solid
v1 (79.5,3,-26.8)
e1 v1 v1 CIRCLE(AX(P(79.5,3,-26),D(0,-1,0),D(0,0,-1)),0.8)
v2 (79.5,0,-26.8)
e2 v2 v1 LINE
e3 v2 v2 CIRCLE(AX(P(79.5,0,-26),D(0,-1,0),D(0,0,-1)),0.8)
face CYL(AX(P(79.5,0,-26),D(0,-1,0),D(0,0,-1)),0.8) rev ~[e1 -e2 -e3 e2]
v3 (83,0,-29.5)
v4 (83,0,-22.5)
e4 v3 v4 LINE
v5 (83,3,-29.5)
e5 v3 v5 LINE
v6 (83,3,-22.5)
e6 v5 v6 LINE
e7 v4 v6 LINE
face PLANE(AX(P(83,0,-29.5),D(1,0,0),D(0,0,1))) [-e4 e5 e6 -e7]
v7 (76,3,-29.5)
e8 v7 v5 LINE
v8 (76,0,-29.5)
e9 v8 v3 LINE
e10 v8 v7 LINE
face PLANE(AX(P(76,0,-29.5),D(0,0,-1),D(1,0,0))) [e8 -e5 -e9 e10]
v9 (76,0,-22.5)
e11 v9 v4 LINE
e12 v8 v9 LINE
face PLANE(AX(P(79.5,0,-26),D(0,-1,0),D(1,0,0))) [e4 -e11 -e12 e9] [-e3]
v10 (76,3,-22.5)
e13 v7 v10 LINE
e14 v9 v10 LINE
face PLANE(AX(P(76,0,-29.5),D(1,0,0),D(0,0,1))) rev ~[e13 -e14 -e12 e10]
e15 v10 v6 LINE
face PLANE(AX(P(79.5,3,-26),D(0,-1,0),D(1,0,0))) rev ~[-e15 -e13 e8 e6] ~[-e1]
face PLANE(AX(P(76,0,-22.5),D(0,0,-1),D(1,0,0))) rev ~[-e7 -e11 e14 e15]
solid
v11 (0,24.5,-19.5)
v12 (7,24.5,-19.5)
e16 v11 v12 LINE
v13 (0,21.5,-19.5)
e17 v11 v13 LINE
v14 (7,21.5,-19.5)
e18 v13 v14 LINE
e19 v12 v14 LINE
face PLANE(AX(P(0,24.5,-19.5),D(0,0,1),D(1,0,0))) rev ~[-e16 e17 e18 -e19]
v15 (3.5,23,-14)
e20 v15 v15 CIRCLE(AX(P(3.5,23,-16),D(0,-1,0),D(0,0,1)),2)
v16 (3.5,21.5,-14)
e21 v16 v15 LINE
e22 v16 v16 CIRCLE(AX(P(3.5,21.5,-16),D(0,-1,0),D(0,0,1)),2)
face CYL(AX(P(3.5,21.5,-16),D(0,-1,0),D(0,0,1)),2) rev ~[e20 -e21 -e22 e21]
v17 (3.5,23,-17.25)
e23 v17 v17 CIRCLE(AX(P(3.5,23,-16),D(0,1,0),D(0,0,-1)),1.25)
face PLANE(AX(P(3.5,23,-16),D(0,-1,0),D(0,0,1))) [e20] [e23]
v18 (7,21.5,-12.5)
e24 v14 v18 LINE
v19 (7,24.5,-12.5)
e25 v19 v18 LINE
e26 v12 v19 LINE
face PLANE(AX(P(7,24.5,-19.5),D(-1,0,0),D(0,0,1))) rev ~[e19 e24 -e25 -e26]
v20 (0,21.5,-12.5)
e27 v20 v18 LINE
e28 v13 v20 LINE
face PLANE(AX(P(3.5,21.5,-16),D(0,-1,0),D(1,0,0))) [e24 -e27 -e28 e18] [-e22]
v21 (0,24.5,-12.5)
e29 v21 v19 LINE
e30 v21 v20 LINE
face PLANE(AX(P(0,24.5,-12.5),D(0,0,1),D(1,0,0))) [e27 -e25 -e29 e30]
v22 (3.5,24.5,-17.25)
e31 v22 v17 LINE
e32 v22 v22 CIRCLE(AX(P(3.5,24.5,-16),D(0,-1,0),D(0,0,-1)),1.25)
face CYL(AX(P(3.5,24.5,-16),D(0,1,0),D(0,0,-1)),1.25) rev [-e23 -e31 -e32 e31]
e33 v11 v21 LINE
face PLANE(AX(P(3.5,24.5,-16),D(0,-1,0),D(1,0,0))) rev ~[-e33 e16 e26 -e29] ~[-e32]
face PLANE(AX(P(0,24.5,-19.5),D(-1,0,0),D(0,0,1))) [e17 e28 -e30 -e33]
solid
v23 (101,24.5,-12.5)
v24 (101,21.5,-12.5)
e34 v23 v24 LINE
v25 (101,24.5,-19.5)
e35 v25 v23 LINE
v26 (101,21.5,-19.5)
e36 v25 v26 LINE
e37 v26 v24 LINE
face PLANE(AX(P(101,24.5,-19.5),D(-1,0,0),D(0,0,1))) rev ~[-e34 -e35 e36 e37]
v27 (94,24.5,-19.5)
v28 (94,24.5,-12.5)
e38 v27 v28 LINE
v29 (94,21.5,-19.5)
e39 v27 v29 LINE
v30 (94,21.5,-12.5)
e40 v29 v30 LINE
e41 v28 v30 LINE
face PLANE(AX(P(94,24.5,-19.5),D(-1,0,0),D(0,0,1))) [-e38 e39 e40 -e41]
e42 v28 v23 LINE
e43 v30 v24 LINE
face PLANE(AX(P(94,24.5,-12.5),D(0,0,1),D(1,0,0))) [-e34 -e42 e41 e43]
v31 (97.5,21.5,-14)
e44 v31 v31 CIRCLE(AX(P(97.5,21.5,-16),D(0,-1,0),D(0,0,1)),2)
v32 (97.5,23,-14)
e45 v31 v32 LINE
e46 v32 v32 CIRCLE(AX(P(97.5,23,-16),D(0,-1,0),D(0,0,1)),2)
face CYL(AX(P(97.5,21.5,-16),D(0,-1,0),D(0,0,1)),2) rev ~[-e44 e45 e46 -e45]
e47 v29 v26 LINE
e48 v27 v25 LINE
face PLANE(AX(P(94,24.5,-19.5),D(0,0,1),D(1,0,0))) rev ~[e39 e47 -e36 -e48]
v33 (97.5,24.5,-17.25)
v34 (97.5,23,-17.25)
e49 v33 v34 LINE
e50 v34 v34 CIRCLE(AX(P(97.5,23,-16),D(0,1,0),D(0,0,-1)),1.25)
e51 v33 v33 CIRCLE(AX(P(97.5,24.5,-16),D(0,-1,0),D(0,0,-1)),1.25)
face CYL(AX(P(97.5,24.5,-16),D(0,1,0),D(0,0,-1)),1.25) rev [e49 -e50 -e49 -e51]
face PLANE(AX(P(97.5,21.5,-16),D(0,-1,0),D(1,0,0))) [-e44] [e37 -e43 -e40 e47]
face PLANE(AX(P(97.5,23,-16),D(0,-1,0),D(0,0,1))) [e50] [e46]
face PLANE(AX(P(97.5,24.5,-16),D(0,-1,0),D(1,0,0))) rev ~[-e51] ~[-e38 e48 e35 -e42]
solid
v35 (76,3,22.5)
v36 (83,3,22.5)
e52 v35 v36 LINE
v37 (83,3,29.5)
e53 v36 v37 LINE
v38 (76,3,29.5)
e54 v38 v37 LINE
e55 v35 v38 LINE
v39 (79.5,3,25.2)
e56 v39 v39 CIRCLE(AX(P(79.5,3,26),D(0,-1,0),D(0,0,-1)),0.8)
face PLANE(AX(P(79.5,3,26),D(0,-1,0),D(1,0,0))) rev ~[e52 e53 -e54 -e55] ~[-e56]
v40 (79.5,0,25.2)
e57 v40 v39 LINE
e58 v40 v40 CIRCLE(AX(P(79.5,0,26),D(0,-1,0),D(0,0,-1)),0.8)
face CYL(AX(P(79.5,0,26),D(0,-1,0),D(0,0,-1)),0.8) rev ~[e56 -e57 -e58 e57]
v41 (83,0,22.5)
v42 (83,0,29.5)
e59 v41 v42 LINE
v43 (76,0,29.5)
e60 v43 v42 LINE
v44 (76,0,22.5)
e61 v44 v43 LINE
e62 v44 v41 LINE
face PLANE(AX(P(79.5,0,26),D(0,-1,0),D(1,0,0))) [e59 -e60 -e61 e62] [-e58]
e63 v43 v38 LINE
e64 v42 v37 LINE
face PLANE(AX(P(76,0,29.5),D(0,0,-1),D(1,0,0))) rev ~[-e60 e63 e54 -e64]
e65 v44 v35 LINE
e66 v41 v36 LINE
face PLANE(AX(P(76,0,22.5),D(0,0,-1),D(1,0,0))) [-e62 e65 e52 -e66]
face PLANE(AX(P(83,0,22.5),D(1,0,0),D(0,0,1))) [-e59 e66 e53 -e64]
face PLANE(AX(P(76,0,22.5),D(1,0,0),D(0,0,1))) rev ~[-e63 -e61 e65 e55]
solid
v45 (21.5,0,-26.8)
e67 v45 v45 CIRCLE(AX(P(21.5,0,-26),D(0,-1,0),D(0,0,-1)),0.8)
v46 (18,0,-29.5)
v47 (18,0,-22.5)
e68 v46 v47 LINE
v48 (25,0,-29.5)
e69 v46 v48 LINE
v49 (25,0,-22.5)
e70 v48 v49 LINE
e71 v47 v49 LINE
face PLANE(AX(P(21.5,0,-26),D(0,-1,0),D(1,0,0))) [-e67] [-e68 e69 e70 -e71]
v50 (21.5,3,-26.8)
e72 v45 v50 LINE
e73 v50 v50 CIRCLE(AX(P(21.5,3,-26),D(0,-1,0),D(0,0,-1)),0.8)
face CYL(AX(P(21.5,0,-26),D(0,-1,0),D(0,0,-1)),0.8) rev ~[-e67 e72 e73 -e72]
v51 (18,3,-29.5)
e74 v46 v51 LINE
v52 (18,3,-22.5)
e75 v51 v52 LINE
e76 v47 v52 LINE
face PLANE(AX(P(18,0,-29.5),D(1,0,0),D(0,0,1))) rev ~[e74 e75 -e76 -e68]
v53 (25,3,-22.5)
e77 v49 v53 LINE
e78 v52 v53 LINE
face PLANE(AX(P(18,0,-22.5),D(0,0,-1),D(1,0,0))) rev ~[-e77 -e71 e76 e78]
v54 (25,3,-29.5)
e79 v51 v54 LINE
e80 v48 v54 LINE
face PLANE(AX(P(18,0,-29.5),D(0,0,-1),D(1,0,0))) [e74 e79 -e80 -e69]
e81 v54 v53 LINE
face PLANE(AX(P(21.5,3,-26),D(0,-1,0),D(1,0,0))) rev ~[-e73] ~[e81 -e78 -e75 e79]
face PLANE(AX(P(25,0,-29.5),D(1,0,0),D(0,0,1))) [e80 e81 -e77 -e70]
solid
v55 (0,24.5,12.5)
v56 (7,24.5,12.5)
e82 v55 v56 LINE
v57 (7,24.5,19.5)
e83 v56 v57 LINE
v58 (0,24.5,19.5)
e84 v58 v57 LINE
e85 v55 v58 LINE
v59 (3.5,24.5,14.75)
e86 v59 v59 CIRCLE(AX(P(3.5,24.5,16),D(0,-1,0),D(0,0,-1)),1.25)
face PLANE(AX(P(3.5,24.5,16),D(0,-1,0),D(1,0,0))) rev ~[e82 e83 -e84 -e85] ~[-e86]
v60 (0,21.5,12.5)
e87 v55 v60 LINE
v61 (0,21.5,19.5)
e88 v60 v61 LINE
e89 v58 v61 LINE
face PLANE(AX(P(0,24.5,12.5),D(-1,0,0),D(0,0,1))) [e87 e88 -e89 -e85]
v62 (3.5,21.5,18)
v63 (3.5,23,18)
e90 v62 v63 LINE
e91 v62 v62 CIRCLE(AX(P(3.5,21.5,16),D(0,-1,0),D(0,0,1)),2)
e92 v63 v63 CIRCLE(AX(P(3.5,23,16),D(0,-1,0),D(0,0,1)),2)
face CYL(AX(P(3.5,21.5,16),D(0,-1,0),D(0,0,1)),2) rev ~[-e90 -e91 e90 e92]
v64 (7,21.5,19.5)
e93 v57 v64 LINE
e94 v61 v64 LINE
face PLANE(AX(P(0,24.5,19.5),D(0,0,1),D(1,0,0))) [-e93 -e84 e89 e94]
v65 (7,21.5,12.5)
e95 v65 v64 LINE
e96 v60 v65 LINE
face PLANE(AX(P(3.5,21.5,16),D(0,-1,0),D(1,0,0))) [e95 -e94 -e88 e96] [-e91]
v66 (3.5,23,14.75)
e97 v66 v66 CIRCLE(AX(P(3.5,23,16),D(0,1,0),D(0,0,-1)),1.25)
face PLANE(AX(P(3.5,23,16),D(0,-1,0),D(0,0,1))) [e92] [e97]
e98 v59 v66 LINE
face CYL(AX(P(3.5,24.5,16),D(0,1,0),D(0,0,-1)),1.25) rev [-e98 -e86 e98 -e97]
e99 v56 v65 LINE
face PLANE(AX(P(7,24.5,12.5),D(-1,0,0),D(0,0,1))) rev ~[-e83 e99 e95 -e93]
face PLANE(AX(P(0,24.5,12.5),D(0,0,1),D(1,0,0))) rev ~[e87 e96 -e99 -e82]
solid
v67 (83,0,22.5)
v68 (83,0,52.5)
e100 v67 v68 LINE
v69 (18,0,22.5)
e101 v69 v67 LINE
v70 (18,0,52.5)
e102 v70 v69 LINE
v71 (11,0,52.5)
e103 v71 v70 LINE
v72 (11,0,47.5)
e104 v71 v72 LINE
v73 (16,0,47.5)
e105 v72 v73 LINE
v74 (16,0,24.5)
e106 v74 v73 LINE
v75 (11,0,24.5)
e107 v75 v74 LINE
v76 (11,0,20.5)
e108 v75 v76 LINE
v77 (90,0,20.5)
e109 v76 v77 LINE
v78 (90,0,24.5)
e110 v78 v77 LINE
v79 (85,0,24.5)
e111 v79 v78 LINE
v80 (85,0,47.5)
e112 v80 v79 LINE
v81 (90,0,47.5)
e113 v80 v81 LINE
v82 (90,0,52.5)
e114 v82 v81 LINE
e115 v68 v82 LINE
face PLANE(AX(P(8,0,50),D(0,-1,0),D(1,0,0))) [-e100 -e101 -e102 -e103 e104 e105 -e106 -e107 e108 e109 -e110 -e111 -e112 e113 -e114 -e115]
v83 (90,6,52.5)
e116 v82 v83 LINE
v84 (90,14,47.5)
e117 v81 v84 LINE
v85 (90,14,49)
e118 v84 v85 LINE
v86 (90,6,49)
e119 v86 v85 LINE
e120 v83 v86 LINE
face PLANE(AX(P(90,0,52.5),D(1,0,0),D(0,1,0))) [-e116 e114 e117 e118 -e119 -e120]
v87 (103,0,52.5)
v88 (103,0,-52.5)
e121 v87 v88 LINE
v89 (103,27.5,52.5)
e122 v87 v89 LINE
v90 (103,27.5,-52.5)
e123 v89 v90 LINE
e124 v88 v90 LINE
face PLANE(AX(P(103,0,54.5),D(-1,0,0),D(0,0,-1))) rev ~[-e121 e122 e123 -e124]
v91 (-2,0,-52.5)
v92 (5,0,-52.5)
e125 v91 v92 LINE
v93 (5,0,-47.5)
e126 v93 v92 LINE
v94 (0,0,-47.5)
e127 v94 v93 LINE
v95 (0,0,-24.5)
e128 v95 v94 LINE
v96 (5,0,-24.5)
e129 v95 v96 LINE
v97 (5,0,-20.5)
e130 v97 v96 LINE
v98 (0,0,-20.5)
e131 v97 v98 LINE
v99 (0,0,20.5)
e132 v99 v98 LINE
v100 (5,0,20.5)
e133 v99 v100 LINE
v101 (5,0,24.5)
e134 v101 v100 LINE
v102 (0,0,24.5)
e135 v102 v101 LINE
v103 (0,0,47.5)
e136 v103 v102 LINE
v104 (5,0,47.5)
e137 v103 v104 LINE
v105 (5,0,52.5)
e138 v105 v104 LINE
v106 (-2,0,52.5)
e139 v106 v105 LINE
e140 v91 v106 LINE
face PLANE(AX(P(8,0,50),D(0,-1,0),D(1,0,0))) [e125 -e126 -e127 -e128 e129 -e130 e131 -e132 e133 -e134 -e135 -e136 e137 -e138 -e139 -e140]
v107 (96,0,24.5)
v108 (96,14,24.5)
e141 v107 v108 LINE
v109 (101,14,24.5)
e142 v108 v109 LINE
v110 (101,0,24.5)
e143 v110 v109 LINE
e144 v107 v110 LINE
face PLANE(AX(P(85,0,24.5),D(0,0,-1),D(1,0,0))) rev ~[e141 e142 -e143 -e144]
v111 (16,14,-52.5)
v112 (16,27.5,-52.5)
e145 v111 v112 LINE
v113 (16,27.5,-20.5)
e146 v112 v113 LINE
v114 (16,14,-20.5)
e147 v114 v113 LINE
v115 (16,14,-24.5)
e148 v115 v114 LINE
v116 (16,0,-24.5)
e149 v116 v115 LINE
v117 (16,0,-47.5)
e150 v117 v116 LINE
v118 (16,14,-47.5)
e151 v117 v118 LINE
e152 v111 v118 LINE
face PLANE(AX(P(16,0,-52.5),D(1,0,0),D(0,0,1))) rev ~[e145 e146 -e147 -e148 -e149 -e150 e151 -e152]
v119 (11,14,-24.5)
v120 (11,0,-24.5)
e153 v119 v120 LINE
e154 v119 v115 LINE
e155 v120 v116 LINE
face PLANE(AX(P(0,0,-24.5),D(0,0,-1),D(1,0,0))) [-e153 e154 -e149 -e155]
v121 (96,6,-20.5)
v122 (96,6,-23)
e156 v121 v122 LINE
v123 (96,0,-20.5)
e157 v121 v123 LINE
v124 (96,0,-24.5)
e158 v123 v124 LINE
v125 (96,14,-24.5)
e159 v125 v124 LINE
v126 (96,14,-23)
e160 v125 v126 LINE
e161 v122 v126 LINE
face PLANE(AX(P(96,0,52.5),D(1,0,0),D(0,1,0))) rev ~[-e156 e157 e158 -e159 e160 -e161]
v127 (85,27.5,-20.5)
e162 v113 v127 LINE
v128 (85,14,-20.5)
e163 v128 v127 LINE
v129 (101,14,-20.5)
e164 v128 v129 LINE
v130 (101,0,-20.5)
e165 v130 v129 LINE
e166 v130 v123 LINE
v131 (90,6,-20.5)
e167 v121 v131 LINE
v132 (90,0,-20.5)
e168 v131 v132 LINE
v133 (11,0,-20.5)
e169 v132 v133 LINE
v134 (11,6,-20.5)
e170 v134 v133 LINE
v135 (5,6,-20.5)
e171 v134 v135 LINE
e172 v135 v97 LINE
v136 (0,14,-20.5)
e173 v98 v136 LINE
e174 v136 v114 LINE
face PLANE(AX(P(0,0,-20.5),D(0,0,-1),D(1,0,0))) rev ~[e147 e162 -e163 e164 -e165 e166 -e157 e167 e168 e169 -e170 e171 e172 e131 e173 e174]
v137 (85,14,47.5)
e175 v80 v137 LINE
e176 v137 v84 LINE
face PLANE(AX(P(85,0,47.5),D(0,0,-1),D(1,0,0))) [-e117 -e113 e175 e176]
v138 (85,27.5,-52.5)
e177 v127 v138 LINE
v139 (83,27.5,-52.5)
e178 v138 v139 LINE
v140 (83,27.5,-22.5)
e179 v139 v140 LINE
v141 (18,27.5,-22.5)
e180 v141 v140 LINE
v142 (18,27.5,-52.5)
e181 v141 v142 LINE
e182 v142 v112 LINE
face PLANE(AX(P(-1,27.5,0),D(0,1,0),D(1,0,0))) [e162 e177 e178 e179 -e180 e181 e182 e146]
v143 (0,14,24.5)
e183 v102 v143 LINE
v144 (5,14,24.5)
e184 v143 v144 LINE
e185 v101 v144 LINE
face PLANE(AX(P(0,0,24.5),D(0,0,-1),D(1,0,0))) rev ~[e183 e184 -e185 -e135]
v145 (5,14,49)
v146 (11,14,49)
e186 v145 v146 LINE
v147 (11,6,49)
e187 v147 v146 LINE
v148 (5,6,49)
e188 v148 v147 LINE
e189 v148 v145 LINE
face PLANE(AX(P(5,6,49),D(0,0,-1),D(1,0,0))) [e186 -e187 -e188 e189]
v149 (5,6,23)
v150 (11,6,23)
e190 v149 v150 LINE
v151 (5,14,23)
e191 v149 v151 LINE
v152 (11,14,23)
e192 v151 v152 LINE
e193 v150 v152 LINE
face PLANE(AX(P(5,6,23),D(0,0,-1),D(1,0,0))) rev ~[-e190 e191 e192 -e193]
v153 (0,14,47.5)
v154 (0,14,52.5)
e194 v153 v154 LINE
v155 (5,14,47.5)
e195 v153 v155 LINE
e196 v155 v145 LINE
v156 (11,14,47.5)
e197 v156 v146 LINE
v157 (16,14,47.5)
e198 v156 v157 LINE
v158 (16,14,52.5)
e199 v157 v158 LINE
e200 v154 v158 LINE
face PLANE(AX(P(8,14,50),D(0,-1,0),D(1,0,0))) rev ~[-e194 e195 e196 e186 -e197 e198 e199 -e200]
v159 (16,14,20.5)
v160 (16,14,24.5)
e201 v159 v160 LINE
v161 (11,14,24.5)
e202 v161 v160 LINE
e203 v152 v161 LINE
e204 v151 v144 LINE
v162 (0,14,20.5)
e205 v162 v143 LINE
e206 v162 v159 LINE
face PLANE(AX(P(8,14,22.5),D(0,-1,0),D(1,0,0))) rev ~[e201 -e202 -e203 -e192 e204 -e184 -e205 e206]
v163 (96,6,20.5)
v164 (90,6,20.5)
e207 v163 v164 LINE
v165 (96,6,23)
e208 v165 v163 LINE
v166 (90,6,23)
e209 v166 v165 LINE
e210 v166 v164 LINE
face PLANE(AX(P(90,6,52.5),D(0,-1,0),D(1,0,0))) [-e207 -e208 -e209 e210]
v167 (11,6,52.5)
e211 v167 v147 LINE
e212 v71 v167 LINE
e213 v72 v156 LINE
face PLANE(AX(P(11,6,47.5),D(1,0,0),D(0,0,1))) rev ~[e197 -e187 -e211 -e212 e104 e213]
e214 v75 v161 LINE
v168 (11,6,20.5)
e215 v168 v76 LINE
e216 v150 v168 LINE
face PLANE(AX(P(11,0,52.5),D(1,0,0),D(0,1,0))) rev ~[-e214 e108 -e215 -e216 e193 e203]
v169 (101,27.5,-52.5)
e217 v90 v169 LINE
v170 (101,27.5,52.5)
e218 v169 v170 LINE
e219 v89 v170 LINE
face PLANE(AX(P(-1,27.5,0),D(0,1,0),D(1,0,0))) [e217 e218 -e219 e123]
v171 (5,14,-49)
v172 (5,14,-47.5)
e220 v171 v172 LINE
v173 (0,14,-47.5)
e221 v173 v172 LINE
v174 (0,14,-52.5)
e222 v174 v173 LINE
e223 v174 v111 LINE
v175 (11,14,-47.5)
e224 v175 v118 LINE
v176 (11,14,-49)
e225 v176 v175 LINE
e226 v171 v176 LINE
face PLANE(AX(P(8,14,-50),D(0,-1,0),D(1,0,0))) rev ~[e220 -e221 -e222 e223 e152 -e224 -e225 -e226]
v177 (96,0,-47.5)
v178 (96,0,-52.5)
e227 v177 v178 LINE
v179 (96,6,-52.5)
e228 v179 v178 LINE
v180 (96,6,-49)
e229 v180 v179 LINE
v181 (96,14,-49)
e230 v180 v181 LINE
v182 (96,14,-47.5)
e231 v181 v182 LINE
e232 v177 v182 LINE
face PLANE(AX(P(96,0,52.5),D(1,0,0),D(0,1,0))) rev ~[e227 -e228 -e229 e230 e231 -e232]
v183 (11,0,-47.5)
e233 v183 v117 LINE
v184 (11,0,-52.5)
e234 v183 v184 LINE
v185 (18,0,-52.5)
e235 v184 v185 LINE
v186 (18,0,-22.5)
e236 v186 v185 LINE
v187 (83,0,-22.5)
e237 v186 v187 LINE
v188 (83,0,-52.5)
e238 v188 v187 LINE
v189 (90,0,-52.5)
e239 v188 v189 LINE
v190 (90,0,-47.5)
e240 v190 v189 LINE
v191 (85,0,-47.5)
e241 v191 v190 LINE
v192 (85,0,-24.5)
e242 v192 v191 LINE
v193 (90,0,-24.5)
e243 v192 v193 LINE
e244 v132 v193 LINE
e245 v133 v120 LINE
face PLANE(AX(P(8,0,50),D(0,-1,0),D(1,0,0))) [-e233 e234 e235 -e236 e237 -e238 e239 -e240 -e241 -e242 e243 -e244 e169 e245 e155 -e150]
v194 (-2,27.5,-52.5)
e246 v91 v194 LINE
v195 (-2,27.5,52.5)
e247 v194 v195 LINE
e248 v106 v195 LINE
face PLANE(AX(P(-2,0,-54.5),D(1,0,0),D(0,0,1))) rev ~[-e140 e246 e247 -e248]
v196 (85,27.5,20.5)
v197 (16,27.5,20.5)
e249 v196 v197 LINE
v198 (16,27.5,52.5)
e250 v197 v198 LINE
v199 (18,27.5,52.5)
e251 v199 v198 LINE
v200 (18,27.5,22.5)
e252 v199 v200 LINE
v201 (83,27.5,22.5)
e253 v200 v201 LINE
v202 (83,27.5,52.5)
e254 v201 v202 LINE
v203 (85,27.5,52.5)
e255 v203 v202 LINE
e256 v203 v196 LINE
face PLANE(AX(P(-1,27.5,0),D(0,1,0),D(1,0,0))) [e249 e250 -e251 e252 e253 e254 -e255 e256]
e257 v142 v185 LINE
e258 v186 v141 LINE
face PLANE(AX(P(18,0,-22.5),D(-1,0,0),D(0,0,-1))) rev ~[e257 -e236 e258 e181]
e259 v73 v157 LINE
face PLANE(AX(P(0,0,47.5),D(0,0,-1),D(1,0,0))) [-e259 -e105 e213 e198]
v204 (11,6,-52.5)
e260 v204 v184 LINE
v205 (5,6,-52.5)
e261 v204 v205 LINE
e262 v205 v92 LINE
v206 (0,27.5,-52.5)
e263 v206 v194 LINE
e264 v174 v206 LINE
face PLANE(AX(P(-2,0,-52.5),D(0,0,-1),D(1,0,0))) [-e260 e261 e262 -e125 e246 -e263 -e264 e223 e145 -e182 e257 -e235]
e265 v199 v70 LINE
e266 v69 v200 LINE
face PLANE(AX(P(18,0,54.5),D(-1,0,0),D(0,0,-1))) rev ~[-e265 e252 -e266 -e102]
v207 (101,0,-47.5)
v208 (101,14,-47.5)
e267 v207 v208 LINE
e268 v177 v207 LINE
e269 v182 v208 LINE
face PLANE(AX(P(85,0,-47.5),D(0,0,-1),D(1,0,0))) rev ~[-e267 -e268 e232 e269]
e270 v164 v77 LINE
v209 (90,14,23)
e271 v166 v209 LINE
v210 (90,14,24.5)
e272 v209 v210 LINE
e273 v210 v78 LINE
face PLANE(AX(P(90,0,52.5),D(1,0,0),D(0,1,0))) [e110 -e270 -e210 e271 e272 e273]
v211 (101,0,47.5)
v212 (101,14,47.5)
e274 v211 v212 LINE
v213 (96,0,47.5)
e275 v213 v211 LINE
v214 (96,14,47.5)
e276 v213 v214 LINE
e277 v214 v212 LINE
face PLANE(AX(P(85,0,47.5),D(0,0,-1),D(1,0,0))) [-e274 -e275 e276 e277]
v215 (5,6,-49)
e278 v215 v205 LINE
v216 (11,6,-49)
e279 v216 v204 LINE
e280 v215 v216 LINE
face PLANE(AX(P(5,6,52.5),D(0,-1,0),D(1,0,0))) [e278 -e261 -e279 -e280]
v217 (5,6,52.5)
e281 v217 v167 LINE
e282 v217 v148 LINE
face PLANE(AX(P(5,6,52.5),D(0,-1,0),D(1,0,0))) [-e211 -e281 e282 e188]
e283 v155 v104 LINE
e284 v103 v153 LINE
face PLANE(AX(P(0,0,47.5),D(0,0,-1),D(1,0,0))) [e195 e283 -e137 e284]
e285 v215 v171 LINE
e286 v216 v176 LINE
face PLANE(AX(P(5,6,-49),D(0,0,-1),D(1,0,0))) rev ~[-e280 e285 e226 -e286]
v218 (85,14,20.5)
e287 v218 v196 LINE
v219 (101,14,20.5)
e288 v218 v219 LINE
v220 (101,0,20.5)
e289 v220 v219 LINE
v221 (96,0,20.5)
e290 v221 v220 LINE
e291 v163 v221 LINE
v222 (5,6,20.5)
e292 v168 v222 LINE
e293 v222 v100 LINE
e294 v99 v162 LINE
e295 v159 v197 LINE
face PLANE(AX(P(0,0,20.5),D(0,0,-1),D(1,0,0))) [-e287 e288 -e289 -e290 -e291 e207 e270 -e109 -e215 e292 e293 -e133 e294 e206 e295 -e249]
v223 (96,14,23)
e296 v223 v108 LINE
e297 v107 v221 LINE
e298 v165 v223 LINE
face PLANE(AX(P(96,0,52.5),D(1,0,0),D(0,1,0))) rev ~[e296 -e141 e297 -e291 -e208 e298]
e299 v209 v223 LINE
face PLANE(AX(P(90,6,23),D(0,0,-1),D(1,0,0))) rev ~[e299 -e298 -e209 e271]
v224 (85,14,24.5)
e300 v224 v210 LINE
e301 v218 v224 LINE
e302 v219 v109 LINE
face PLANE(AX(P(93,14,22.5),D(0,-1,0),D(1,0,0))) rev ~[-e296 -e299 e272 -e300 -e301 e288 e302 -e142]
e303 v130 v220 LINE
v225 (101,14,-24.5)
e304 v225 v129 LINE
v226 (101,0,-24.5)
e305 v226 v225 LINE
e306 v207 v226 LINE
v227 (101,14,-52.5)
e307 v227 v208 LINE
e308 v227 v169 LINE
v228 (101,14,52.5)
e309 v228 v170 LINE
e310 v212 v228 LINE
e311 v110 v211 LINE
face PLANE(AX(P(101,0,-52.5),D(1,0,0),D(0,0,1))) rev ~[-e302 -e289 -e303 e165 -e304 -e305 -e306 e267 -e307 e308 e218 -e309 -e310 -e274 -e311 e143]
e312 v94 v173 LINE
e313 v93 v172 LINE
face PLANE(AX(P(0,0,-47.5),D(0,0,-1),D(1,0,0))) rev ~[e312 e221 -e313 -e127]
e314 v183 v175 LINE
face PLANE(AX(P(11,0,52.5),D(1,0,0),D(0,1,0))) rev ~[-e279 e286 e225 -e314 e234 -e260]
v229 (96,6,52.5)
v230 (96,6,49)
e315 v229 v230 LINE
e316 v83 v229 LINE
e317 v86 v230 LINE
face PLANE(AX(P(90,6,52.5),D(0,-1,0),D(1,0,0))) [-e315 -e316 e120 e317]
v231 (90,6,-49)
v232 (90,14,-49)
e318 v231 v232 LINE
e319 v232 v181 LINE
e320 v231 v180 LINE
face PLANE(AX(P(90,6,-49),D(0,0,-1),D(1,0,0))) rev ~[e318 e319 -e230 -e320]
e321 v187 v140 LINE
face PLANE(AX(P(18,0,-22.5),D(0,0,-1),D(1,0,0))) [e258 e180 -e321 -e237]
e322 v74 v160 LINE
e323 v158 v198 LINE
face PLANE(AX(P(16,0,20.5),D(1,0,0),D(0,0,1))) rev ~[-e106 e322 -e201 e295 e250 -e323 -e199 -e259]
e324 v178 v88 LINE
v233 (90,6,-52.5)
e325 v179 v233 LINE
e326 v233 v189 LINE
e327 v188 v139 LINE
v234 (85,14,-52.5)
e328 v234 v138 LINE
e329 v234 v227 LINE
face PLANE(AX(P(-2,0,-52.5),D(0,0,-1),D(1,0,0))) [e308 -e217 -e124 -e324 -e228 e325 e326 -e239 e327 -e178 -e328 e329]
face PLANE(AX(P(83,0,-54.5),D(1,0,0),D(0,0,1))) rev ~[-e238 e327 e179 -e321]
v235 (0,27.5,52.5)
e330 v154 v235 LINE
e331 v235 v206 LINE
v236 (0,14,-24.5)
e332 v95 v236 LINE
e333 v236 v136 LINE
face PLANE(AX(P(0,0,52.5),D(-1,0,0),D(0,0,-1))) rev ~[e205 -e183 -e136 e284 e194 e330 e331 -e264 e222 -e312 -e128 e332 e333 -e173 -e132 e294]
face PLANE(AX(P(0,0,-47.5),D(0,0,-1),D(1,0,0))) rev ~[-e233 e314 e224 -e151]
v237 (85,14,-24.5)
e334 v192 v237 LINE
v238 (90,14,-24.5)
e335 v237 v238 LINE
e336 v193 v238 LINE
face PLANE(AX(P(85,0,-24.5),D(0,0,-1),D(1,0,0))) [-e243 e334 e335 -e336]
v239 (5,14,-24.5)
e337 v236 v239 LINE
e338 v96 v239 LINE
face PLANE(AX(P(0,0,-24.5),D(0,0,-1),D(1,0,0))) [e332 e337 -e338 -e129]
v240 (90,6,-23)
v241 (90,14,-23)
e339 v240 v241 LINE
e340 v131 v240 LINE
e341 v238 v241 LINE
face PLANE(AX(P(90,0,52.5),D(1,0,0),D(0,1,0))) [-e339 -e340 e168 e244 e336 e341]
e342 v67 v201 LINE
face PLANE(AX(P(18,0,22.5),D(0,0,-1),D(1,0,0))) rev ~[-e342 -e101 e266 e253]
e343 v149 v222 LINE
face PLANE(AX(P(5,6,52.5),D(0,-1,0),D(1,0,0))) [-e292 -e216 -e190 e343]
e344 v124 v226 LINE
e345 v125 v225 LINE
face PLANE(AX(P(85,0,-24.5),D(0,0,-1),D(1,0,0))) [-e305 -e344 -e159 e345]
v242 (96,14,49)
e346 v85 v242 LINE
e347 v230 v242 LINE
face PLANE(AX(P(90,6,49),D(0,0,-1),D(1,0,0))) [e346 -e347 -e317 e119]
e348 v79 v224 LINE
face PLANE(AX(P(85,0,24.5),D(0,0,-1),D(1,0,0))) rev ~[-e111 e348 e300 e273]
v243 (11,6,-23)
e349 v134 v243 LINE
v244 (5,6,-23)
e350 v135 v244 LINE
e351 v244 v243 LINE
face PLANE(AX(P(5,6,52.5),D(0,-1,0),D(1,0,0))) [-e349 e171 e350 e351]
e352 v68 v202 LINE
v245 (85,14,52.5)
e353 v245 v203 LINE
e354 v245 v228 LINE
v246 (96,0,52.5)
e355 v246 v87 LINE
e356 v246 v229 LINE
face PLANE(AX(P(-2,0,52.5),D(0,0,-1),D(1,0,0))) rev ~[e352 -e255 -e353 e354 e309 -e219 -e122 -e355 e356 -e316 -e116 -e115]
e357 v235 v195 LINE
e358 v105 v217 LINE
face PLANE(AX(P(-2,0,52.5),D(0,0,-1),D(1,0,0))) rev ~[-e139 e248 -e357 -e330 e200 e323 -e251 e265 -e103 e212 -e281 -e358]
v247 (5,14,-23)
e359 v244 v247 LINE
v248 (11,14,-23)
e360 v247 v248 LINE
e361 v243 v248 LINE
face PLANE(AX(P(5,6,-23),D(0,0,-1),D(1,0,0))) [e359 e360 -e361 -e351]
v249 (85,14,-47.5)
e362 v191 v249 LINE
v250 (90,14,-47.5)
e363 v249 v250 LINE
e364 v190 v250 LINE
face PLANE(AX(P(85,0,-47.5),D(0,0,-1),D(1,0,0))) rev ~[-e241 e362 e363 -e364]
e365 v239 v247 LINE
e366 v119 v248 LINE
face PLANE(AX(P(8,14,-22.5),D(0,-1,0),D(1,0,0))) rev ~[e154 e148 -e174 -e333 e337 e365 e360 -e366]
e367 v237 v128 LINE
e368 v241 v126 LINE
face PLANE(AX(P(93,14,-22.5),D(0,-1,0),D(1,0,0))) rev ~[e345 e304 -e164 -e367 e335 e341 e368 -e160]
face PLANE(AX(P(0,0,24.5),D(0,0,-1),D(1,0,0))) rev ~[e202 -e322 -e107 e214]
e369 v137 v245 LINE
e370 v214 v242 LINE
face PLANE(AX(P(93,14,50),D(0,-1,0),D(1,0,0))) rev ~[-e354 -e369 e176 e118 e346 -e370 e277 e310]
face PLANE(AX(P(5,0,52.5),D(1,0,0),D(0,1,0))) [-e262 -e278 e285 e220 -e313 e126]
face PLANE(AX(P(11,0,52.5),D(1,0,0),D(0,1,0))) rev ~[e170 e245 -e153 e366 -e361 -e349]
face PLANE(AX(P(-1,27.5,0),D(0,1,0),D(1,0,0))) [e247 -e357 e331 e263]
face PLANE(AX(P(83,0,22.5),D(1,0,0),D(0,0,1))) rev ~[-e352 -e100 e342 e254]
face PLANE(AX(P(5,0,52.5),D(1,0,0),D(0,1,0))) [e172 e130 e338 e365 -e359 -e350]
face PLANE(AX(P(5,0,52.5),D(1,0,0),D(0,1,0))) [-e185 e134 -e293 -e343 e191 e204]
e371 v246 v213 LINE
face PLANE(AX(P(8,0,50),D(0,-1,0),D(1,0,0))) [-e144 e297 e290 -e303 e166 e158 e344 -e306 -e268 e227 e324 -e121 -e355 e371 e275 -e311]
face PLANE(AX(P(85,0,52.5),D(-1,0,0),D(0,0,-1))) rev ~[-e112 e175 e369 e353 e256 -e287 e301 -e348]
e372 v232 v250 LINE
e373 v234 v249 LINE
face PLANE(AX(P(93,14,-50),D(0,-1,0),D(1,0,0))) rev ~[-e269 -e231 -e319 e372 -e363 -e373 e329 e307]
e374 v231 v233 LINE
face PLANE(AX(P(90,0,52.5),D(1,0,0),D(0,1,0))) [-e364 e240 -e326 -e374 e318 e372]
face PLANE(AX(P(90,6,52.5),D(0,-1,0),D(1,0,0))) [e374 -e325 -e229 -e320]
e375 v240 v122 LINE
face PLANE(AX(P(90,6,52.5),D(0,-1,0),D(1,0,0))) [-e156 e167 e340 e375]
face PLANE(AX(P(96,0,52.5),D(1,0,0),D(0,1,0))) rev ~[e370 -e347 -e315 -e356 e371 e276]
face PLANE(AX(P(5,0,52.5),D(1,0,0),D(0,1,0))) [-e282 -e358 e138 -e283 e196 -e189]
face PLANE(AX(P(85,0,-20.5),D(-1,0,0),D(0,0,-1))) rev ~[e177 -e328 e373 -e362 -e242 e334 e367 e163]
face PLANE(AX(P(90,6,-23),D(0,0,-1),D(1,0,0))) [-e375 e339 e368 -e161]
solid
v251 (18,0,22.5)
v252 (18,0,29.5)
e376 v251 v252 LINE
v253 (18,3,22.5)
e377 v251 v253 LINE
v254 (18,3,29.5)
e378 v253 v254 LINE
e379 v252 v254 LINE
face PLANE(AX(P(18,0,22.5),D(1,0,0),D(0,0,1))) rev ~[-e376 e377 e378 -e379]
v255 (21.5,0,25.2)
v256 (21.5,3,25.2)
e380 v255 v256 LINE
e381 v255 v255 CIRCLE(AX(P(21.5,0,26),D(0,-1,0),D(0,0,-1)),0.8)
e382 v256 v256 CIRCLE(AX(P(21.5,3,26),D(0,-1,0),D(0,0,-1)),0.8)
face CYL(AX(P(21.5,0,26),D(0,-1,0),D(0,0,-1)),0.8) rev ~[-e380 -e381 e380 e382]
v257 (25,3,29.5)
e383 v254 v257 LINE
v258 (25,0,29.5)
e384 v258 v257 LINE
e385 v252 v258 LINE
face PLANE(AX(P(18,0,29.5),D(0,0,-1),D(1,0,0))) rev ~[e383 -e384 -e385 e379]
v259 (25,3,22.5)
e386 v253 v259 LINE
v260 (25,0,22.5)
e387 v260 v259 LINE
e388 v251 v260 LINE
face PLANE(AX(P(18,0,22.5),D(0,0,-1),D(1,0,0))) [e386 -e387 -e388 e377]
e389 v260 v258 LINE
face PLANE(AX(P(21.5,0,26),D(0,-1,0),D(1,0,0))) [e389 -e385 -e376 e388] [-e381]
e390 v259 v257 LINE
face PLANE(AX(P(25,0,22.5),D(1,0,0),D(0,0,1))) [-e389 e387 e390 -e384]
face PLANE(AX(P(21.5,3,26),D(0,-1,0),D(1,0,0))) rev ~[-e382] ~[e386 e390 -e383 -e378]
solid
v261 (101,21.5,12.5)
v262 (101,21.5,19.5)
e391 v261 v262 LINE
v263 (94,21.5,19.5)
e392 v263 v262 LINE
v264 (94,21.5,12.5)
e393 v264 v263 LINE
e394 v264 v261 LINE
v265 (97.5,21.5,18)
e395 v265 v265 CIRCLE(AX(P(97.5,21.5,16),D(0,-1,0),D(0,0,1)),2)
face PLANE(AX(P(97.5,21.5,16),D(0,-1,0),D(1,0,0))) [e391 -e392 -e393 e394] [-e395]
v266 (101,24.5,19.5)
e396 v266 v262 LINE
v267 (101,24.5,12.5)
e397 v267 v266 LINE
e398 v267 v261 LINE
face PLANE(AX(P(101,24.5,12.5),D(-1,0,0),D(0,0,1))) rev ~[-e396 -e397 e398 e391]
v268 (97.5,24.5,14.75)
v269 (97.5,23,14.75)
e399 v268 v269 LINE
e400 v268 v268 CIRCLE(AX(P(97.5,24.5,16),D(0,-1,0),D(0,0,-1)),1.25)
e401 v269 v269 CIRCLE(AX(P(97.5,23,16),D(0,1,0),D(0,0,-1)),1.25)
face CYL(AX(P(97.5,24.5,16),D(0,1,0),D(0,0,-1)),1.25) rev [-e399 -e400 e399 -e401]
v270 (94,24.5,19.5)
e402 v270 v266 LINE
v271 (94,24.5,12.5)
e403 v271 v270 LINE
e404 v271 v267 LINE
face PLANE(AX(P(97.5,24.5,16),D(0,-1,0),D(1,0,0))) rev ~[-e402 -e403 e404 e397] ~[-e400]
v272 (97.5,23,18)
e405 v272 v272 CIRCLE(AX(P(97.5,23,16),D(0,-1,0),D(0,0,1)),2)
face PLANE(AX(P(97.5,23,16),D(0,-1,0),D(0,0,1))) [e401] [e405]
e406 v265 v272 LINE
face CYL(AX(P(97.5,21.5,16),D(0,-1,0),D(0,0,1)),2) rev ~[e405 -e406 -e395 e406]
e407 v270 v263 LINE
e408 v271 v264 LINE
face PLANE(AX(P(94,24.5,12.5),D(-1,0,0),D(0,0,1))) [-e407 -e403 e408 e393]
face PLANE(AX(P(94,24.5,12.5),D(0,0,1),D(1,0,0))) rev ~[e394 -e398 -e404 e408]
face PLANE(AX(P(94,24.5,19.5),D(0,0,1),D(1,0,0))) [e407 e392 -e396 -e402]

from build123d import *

# Parameters (mm, degrees)
SKETCH_1_W          = 65
SKETCH_1_H          = 2
EXTRUDE_2_DEPTH     = 27.5
SKETCH_2_W          = 16
SKETCH_2_H          = 5
SKETCH_2_H_2        = 4
EXTRUDE_3_DEPTH     = 14
SKETCH_2_3_W        = 105
SKETCH_2_3_H        = 2
CUT_EXTRUDE_1_DEPTH = 120.73094838
EXTRUDE_START       = -24.5
SKETCH_3_W          = 7
SKETCH_3_H          = 7
SKETCH_3_R          = 1.25
EXTRUDE_4_DEPTH     = 3
EXTRUDE_4_2_DEPTH   = 3
EXTRUDE_4_3_DEPTH   = 3
EXTRUDE_4_4_DEPTH   = 3
CUT_EXTRUDE_START   = -21.5
SKETCH_3_4_R        = 2
CUT_EXTRUDE_3_DEPTH = 1.5
SKETCH_4_W          = 7
SKETCH_4_H          = 7
SKETCH_4_R          = 0.8
EXTRUDE_5_DEPTH     = 3
EXTRUDE_5_2_DEPTH   = 3
EXTRUDE_5_3_DEPTH   = 3
EXTRUDE_5_4_DEPTH   = 3
SKETCH_5_W          = 6
SKETCH_5_H          = 6
CUT_EXTRUDE_4_DEPTH = 150.633719462
SKETCH_6_W          = 6
SKETCH_6_H          = 1.5
CUT_EXTRUDE_5_DEPTH = 118.590390764


with BuildPart() as part:
    # 草图1 → 凸台-拉伸2 (new body)
    with BuildSketch(Plane(origin=(0, 0, 0), x_dir=(1, 0, 0), z_dir=(0, 1, 0))):
        Polygon((0, 52.5), (-2, 52.5), (-2, -52.5), (0, -52.5), (0, -20.5), (0, 20.5), align=None)
        Polygon((-2, 52.5), (0, 52.5), (16, 52.5), (18, 52.5), (18, 54.5), (-2, 54.5), align=None)
        Polygon((16, 52.5), (16, 20.5), (18, 20.5), (18, 22.5), (18, 52.5), align=None)
        with Locations((50.5, 21.5)):
            Rectangle(SKETCH_1_W, SKETCH_1_H)
        Polygon((83, 22.5), (83, 20.5), (85, 20.5), (85, 52.5), (83, 52.5), align=None)
        Polygon((83, 52.5), (85, 52.5), (101, 52.5), (103, 52.5), (103, 54.5), (83, 54.5), align=None)
        Polygon((103, 52.5), (103, -52.5), (101, -52.5), (101, -20.5), (101, 20.5), (101, 52.5), align=None)
        Polygon((101, -52.5), (85, -52.5), (83, -52.5), (83, -54.5), (103, -54.5), (103, -52.5), align=None)
        Polygon((85, -20.5), (83, -20.5), (83, -22.5), (83, -52.5), (85, -52.5), align=None)
        with Locations((50.5, -21.5)):
            Rectangle(SKETCH_1_W, SKETCH_1_H)
        Polygon((18, -20.5), (16, -20.5), (16, -52.5), (18, -52.5), (18, -22.5), align=None)
        Polygon((16, -52.5), (0, -52.5), (-2, -52.5), (-2, -54.5), (18, -54.5), (18, -52.5), align=None)
    extrude(amount=EXTRUDE_2_DEPTH)

    # 草图2 → 凸台-拉伸3 (add)
    with BuildSketch(Plane.XZ):
        with Locations((8, 50)):
            Rectangle(SKETCH_2_W, SKETCH_2_H)
        with Locations((93, 50)):
            Rectangle(SKETCH_2_W, SKETCH_2_H)
        with Locations((8, -50)):
            Rectangle(SKETCH_2_W, SKETCH_2_H)
        with Locations((93, -50)):
            Rectangle(SKETCH_2_W, SKETCH_2_H)
        with Locations((8, 22.5)):
            Rectangle(SKETCH_2_W, SKETCH_2_H_2)
        with Locations((93, 22.5)):
            Rectangle(SKETCH_2_W, SKETCH_2_H_2)
        with Locations((93, -22.5)):
            Rectangle(SKETCH_2_W, SKETCH_2_H_2)
        with Locations((8, -22.5)):
            Rectangle(SKETCH_2_W, SKETCH_2_H_2)
    extrude(amount=-EXTRUDE_3_DEPTH)

    # 草图2<3> → 切除-拉伸1 (cut, through all)
    with BuildSketch(Plane.XZ):
        with Locations((50.5, 53.5)):
            Rectangle(SKETCH_2_3_W, SKETCH_2_3_H)
        with Locations((50.5, -53.5)):
            Rectangle(SKETCH_2_3_W, SKETCH_2_3_H)
    extrude(amount=-CUT_EXTRUDE_1_DEPTH, mode=Mode.SUBTRACT)

    # 草图5 → 切除-拉伸4 (cut, through all)
    with BuildSketch(Plane.XY.offset(52.5)):
        with Locations((8, 3)):
            Rectangle(SKETCH_5_W, SKETCH_5_H)
        with Locations((93, 3)):
            Rectangle(SKETCH_5_W, SKETCH_5_H)
    extrude(amount=-CUT_EXTRUDE_4_DEPTH, mode=Mode.SUBTRACT)

    # 草图6 → 切除-拉伸5 (cut, through all)
    with BuildSketch(Plane.XZ.offset(-6)):
        with Locations((8, 48.25)):
            Rectangle(SKETCH_6_W, SKETCH_6_H)
        with Locations((8, 23.75)):
            Rectangle(SKETCH_6_W, SKETCH_6_H)
        with Locations((93, 23.75)):
            Rectangle(SKETCH_6_W, SKETCH_6_H)
        with Locations((93, 48.25)):
            Rectangle(SKETCH_6_W, SKETCH_6_H)
        with Locations((93, -23.75)):
            Rectangle(SKETCH_6_W, SKETCH_6_H)
        with Locations((93, -48.25)):
            Rectangle(SKETCH_6_W, SKETCH_6_H)
        with Locations((8, -48.25)):
            Rectangle(SKETCH_6_W, SKETCH_6_H)
        with Locations((8, -23.75)):
            Rectangle(SKETCH_6_W, SKETCH_6_H)
    extrude(amount=-CUT_EXTRUDE_5_DEPTH, mode=Mode.SUBTRACT)


with BuildPart() as body_2:
    # 草图3 → 凸台-拉伸4 (new body)
    with BuildSketch(Plane.XZ.offset(EXTRUDE_START)):
        with Locations((3.5, 16)):
            Rectangle(SKETCH_3_W, SKETCH_3_H)
        with Locations(Location((3.5, 16, 0), (0, 0, 270))):
            Circle(SKETCH_3_R, mode=Mode.SUBTRACT)
    extrude(amount=EXTRUDE_4_DEPTH)


with BuildPart() as body_3:
    # 草图3 → Extrude 4 2 (new body)
    with BuildSketch(Plane.XZ.offset(EXTRUDE_START)):
        with Locations((3.5, -16)):
            Rectangle(SKETCH_3_W, SKETCH_3_H)
        with Locations(Location((3.5, -16, 0), (0, 0, 270))):
            Circle(SKETCH_3_R, mode=Mode.SUBTRACT)
    extrude(amount=EXTRUDE_4_2_DEPTH)


with BuildPart() as body_4:
    # 草图3 → Extrude 4 3 (new body)
    with BuildSketch(Plane.XZ.offset(EXTRUDE_START)):
        with Locations((97.5, 16)):
            Rectangle(SKETCH_3_W, SKETCH_3_H)
        with Locations(Location((97.5, 16, 0), (0, 0, 270))):
            Circle(SKETCH_3_R, mode=Mode.SUBTRACT)
    extrude(amount=EXTRUDE_4_3_DEPTH)


with BuildPart() as body_5:
    # 草图3 → Extrude 4 4 (new body)
    with BuildSketch(Plane.XZ.offset(EXTRUDE_START)):
        with Locations((97.5, -16)):
            Rectangle(SKETCH_3_W, SKETCH_3_H)
        with Locations(Location((97.5, -16, 0), (0, 0, 270))):
            Circle(SKETCH_3_R, mode=Mode.SUBTRACT)
    extrude(amount=EXTRUDE_4_4_DEPTH)


with BuildPart() as cut_extrude_3_tool:
    # 草图3<4> → 切除-拉伸3 (new body)
    with BuildSketch(Plane.XZ.offset(CUT_EXTRUDE_START)):
        with Locations(Location((3.5, 16, 0), (0, 0, 90))):
            Circle(SKETCH_3_4_R)
        with Locations(Location((97.5, 16, 0), (0, 0, 90))):
            Circle(SKETCH_3_4_R)
        with Locations(Location((97.5, -16, 0), (0, 0, 90))):
            Circle(SKETCH_3_4_R)
        with Locations(Location((3.5, -16, 0), (0, 0, 90))):
            Circle(SKETCH_3_4_R)
    extrude(amount=-CUT_EXTRUDE_3_DEPTH)


with BuildPart() as body_2_1:
    add(body_2.part)

    # 切除-拉伸3: cut by cut_extrude_3_tool
    add(cut_extrude_3_tool.part, mode=Mode.SUBTRACT)


with BuildPart() as body_3_1:
    add(body_3.part)

    # 切除-拉伸3: cut by cut_extrude_3_tool
    add(cut_extrude_3_tool.part, mode=Mode.SUBTRACT)


with BuildPart() as body_4_1:
    add(body_4.part)

    # 切除-拉伸3: cut by cut_extrude_3_tool
    add(cut_extrude_3_tool.part, mode=Mode.SUBTRACT)


with BuildPart() as body_5_1:
    add(body_5.part)

    # 切除-拉伸3: cut by cut_extrude_3_tool
    add(cut_extrude_3_tool.part, mode=Mode.SUBTRACT)


with BuildPart() as body_6:
    # 草图4 → 凸台-拉伸5 (new body)
    with BuildSketch(Plane.XZ):
        with Locations((21.5, 26)):
            Rectangle(SKETCH_4_W, SKETCH_4_H)
        with Locations(Location((21.5, 26, 0), (0, 0, 270))):
            Circle(SKETCH_4_R, mode=Mode.SUBTRACT)
    extrude(amount=-EXTRUDE_5_DEPTH)


with BuildPart() as body_7:
    # 草图4 → Extrude 5 2 (new body)
    with BuildSketch(Plane.XZ):
        with Locations((79.5, 26)):
            Rectangle(SKETCH_4_W, SKETCH_4_H)
        with Locations(Location((79.5, 26, 0), (0, 0, 270))):
            Circle(SKETCH_4_R, mode=Mode.SUBTRACT)
    extrude(amount=-EXTRUDE_5_2_DEPTH)


with BuildPart() as body_8:
    # 草图4 → Extrude 5 3 (new body)
    with BuildSketch(Plane.XZ):
        with Locations((21.5, -26)):
            Rectangle(SKETCH_4_W, SKETCH_4_H)
        with Locations(Location((21.5, -26, 0), (0, 0, 270))):
            Circle(SKETCH_4_R, mode=Mode.SUBTRACT)
    extrude(amount=-EXTRUDE_5_3_DEPTH)


with BuildPart() as body_9:
    # 草图4 → Extrude 5 4 (new body)
    with BuildSketch(Plane.XZ):
        with Locations((79.5, -26)):
            Rectangle(SKETCH_4_W, SKETCH_4_H)
        with Locations(Location((79.5, -26, 0), (0, 0, 270))):
            Circle(SKETCH_4_R, mode=Mode.SUBTRACT)
    extrude(amount=-EXTRUDE_5_4_DEPTH)


solid = Compound([part.part, body_2_1.part, body_3_1.part, body_4_1.part, body_5_1.part, body_6.part, body_7.part, body_8.part, body_9.part])
